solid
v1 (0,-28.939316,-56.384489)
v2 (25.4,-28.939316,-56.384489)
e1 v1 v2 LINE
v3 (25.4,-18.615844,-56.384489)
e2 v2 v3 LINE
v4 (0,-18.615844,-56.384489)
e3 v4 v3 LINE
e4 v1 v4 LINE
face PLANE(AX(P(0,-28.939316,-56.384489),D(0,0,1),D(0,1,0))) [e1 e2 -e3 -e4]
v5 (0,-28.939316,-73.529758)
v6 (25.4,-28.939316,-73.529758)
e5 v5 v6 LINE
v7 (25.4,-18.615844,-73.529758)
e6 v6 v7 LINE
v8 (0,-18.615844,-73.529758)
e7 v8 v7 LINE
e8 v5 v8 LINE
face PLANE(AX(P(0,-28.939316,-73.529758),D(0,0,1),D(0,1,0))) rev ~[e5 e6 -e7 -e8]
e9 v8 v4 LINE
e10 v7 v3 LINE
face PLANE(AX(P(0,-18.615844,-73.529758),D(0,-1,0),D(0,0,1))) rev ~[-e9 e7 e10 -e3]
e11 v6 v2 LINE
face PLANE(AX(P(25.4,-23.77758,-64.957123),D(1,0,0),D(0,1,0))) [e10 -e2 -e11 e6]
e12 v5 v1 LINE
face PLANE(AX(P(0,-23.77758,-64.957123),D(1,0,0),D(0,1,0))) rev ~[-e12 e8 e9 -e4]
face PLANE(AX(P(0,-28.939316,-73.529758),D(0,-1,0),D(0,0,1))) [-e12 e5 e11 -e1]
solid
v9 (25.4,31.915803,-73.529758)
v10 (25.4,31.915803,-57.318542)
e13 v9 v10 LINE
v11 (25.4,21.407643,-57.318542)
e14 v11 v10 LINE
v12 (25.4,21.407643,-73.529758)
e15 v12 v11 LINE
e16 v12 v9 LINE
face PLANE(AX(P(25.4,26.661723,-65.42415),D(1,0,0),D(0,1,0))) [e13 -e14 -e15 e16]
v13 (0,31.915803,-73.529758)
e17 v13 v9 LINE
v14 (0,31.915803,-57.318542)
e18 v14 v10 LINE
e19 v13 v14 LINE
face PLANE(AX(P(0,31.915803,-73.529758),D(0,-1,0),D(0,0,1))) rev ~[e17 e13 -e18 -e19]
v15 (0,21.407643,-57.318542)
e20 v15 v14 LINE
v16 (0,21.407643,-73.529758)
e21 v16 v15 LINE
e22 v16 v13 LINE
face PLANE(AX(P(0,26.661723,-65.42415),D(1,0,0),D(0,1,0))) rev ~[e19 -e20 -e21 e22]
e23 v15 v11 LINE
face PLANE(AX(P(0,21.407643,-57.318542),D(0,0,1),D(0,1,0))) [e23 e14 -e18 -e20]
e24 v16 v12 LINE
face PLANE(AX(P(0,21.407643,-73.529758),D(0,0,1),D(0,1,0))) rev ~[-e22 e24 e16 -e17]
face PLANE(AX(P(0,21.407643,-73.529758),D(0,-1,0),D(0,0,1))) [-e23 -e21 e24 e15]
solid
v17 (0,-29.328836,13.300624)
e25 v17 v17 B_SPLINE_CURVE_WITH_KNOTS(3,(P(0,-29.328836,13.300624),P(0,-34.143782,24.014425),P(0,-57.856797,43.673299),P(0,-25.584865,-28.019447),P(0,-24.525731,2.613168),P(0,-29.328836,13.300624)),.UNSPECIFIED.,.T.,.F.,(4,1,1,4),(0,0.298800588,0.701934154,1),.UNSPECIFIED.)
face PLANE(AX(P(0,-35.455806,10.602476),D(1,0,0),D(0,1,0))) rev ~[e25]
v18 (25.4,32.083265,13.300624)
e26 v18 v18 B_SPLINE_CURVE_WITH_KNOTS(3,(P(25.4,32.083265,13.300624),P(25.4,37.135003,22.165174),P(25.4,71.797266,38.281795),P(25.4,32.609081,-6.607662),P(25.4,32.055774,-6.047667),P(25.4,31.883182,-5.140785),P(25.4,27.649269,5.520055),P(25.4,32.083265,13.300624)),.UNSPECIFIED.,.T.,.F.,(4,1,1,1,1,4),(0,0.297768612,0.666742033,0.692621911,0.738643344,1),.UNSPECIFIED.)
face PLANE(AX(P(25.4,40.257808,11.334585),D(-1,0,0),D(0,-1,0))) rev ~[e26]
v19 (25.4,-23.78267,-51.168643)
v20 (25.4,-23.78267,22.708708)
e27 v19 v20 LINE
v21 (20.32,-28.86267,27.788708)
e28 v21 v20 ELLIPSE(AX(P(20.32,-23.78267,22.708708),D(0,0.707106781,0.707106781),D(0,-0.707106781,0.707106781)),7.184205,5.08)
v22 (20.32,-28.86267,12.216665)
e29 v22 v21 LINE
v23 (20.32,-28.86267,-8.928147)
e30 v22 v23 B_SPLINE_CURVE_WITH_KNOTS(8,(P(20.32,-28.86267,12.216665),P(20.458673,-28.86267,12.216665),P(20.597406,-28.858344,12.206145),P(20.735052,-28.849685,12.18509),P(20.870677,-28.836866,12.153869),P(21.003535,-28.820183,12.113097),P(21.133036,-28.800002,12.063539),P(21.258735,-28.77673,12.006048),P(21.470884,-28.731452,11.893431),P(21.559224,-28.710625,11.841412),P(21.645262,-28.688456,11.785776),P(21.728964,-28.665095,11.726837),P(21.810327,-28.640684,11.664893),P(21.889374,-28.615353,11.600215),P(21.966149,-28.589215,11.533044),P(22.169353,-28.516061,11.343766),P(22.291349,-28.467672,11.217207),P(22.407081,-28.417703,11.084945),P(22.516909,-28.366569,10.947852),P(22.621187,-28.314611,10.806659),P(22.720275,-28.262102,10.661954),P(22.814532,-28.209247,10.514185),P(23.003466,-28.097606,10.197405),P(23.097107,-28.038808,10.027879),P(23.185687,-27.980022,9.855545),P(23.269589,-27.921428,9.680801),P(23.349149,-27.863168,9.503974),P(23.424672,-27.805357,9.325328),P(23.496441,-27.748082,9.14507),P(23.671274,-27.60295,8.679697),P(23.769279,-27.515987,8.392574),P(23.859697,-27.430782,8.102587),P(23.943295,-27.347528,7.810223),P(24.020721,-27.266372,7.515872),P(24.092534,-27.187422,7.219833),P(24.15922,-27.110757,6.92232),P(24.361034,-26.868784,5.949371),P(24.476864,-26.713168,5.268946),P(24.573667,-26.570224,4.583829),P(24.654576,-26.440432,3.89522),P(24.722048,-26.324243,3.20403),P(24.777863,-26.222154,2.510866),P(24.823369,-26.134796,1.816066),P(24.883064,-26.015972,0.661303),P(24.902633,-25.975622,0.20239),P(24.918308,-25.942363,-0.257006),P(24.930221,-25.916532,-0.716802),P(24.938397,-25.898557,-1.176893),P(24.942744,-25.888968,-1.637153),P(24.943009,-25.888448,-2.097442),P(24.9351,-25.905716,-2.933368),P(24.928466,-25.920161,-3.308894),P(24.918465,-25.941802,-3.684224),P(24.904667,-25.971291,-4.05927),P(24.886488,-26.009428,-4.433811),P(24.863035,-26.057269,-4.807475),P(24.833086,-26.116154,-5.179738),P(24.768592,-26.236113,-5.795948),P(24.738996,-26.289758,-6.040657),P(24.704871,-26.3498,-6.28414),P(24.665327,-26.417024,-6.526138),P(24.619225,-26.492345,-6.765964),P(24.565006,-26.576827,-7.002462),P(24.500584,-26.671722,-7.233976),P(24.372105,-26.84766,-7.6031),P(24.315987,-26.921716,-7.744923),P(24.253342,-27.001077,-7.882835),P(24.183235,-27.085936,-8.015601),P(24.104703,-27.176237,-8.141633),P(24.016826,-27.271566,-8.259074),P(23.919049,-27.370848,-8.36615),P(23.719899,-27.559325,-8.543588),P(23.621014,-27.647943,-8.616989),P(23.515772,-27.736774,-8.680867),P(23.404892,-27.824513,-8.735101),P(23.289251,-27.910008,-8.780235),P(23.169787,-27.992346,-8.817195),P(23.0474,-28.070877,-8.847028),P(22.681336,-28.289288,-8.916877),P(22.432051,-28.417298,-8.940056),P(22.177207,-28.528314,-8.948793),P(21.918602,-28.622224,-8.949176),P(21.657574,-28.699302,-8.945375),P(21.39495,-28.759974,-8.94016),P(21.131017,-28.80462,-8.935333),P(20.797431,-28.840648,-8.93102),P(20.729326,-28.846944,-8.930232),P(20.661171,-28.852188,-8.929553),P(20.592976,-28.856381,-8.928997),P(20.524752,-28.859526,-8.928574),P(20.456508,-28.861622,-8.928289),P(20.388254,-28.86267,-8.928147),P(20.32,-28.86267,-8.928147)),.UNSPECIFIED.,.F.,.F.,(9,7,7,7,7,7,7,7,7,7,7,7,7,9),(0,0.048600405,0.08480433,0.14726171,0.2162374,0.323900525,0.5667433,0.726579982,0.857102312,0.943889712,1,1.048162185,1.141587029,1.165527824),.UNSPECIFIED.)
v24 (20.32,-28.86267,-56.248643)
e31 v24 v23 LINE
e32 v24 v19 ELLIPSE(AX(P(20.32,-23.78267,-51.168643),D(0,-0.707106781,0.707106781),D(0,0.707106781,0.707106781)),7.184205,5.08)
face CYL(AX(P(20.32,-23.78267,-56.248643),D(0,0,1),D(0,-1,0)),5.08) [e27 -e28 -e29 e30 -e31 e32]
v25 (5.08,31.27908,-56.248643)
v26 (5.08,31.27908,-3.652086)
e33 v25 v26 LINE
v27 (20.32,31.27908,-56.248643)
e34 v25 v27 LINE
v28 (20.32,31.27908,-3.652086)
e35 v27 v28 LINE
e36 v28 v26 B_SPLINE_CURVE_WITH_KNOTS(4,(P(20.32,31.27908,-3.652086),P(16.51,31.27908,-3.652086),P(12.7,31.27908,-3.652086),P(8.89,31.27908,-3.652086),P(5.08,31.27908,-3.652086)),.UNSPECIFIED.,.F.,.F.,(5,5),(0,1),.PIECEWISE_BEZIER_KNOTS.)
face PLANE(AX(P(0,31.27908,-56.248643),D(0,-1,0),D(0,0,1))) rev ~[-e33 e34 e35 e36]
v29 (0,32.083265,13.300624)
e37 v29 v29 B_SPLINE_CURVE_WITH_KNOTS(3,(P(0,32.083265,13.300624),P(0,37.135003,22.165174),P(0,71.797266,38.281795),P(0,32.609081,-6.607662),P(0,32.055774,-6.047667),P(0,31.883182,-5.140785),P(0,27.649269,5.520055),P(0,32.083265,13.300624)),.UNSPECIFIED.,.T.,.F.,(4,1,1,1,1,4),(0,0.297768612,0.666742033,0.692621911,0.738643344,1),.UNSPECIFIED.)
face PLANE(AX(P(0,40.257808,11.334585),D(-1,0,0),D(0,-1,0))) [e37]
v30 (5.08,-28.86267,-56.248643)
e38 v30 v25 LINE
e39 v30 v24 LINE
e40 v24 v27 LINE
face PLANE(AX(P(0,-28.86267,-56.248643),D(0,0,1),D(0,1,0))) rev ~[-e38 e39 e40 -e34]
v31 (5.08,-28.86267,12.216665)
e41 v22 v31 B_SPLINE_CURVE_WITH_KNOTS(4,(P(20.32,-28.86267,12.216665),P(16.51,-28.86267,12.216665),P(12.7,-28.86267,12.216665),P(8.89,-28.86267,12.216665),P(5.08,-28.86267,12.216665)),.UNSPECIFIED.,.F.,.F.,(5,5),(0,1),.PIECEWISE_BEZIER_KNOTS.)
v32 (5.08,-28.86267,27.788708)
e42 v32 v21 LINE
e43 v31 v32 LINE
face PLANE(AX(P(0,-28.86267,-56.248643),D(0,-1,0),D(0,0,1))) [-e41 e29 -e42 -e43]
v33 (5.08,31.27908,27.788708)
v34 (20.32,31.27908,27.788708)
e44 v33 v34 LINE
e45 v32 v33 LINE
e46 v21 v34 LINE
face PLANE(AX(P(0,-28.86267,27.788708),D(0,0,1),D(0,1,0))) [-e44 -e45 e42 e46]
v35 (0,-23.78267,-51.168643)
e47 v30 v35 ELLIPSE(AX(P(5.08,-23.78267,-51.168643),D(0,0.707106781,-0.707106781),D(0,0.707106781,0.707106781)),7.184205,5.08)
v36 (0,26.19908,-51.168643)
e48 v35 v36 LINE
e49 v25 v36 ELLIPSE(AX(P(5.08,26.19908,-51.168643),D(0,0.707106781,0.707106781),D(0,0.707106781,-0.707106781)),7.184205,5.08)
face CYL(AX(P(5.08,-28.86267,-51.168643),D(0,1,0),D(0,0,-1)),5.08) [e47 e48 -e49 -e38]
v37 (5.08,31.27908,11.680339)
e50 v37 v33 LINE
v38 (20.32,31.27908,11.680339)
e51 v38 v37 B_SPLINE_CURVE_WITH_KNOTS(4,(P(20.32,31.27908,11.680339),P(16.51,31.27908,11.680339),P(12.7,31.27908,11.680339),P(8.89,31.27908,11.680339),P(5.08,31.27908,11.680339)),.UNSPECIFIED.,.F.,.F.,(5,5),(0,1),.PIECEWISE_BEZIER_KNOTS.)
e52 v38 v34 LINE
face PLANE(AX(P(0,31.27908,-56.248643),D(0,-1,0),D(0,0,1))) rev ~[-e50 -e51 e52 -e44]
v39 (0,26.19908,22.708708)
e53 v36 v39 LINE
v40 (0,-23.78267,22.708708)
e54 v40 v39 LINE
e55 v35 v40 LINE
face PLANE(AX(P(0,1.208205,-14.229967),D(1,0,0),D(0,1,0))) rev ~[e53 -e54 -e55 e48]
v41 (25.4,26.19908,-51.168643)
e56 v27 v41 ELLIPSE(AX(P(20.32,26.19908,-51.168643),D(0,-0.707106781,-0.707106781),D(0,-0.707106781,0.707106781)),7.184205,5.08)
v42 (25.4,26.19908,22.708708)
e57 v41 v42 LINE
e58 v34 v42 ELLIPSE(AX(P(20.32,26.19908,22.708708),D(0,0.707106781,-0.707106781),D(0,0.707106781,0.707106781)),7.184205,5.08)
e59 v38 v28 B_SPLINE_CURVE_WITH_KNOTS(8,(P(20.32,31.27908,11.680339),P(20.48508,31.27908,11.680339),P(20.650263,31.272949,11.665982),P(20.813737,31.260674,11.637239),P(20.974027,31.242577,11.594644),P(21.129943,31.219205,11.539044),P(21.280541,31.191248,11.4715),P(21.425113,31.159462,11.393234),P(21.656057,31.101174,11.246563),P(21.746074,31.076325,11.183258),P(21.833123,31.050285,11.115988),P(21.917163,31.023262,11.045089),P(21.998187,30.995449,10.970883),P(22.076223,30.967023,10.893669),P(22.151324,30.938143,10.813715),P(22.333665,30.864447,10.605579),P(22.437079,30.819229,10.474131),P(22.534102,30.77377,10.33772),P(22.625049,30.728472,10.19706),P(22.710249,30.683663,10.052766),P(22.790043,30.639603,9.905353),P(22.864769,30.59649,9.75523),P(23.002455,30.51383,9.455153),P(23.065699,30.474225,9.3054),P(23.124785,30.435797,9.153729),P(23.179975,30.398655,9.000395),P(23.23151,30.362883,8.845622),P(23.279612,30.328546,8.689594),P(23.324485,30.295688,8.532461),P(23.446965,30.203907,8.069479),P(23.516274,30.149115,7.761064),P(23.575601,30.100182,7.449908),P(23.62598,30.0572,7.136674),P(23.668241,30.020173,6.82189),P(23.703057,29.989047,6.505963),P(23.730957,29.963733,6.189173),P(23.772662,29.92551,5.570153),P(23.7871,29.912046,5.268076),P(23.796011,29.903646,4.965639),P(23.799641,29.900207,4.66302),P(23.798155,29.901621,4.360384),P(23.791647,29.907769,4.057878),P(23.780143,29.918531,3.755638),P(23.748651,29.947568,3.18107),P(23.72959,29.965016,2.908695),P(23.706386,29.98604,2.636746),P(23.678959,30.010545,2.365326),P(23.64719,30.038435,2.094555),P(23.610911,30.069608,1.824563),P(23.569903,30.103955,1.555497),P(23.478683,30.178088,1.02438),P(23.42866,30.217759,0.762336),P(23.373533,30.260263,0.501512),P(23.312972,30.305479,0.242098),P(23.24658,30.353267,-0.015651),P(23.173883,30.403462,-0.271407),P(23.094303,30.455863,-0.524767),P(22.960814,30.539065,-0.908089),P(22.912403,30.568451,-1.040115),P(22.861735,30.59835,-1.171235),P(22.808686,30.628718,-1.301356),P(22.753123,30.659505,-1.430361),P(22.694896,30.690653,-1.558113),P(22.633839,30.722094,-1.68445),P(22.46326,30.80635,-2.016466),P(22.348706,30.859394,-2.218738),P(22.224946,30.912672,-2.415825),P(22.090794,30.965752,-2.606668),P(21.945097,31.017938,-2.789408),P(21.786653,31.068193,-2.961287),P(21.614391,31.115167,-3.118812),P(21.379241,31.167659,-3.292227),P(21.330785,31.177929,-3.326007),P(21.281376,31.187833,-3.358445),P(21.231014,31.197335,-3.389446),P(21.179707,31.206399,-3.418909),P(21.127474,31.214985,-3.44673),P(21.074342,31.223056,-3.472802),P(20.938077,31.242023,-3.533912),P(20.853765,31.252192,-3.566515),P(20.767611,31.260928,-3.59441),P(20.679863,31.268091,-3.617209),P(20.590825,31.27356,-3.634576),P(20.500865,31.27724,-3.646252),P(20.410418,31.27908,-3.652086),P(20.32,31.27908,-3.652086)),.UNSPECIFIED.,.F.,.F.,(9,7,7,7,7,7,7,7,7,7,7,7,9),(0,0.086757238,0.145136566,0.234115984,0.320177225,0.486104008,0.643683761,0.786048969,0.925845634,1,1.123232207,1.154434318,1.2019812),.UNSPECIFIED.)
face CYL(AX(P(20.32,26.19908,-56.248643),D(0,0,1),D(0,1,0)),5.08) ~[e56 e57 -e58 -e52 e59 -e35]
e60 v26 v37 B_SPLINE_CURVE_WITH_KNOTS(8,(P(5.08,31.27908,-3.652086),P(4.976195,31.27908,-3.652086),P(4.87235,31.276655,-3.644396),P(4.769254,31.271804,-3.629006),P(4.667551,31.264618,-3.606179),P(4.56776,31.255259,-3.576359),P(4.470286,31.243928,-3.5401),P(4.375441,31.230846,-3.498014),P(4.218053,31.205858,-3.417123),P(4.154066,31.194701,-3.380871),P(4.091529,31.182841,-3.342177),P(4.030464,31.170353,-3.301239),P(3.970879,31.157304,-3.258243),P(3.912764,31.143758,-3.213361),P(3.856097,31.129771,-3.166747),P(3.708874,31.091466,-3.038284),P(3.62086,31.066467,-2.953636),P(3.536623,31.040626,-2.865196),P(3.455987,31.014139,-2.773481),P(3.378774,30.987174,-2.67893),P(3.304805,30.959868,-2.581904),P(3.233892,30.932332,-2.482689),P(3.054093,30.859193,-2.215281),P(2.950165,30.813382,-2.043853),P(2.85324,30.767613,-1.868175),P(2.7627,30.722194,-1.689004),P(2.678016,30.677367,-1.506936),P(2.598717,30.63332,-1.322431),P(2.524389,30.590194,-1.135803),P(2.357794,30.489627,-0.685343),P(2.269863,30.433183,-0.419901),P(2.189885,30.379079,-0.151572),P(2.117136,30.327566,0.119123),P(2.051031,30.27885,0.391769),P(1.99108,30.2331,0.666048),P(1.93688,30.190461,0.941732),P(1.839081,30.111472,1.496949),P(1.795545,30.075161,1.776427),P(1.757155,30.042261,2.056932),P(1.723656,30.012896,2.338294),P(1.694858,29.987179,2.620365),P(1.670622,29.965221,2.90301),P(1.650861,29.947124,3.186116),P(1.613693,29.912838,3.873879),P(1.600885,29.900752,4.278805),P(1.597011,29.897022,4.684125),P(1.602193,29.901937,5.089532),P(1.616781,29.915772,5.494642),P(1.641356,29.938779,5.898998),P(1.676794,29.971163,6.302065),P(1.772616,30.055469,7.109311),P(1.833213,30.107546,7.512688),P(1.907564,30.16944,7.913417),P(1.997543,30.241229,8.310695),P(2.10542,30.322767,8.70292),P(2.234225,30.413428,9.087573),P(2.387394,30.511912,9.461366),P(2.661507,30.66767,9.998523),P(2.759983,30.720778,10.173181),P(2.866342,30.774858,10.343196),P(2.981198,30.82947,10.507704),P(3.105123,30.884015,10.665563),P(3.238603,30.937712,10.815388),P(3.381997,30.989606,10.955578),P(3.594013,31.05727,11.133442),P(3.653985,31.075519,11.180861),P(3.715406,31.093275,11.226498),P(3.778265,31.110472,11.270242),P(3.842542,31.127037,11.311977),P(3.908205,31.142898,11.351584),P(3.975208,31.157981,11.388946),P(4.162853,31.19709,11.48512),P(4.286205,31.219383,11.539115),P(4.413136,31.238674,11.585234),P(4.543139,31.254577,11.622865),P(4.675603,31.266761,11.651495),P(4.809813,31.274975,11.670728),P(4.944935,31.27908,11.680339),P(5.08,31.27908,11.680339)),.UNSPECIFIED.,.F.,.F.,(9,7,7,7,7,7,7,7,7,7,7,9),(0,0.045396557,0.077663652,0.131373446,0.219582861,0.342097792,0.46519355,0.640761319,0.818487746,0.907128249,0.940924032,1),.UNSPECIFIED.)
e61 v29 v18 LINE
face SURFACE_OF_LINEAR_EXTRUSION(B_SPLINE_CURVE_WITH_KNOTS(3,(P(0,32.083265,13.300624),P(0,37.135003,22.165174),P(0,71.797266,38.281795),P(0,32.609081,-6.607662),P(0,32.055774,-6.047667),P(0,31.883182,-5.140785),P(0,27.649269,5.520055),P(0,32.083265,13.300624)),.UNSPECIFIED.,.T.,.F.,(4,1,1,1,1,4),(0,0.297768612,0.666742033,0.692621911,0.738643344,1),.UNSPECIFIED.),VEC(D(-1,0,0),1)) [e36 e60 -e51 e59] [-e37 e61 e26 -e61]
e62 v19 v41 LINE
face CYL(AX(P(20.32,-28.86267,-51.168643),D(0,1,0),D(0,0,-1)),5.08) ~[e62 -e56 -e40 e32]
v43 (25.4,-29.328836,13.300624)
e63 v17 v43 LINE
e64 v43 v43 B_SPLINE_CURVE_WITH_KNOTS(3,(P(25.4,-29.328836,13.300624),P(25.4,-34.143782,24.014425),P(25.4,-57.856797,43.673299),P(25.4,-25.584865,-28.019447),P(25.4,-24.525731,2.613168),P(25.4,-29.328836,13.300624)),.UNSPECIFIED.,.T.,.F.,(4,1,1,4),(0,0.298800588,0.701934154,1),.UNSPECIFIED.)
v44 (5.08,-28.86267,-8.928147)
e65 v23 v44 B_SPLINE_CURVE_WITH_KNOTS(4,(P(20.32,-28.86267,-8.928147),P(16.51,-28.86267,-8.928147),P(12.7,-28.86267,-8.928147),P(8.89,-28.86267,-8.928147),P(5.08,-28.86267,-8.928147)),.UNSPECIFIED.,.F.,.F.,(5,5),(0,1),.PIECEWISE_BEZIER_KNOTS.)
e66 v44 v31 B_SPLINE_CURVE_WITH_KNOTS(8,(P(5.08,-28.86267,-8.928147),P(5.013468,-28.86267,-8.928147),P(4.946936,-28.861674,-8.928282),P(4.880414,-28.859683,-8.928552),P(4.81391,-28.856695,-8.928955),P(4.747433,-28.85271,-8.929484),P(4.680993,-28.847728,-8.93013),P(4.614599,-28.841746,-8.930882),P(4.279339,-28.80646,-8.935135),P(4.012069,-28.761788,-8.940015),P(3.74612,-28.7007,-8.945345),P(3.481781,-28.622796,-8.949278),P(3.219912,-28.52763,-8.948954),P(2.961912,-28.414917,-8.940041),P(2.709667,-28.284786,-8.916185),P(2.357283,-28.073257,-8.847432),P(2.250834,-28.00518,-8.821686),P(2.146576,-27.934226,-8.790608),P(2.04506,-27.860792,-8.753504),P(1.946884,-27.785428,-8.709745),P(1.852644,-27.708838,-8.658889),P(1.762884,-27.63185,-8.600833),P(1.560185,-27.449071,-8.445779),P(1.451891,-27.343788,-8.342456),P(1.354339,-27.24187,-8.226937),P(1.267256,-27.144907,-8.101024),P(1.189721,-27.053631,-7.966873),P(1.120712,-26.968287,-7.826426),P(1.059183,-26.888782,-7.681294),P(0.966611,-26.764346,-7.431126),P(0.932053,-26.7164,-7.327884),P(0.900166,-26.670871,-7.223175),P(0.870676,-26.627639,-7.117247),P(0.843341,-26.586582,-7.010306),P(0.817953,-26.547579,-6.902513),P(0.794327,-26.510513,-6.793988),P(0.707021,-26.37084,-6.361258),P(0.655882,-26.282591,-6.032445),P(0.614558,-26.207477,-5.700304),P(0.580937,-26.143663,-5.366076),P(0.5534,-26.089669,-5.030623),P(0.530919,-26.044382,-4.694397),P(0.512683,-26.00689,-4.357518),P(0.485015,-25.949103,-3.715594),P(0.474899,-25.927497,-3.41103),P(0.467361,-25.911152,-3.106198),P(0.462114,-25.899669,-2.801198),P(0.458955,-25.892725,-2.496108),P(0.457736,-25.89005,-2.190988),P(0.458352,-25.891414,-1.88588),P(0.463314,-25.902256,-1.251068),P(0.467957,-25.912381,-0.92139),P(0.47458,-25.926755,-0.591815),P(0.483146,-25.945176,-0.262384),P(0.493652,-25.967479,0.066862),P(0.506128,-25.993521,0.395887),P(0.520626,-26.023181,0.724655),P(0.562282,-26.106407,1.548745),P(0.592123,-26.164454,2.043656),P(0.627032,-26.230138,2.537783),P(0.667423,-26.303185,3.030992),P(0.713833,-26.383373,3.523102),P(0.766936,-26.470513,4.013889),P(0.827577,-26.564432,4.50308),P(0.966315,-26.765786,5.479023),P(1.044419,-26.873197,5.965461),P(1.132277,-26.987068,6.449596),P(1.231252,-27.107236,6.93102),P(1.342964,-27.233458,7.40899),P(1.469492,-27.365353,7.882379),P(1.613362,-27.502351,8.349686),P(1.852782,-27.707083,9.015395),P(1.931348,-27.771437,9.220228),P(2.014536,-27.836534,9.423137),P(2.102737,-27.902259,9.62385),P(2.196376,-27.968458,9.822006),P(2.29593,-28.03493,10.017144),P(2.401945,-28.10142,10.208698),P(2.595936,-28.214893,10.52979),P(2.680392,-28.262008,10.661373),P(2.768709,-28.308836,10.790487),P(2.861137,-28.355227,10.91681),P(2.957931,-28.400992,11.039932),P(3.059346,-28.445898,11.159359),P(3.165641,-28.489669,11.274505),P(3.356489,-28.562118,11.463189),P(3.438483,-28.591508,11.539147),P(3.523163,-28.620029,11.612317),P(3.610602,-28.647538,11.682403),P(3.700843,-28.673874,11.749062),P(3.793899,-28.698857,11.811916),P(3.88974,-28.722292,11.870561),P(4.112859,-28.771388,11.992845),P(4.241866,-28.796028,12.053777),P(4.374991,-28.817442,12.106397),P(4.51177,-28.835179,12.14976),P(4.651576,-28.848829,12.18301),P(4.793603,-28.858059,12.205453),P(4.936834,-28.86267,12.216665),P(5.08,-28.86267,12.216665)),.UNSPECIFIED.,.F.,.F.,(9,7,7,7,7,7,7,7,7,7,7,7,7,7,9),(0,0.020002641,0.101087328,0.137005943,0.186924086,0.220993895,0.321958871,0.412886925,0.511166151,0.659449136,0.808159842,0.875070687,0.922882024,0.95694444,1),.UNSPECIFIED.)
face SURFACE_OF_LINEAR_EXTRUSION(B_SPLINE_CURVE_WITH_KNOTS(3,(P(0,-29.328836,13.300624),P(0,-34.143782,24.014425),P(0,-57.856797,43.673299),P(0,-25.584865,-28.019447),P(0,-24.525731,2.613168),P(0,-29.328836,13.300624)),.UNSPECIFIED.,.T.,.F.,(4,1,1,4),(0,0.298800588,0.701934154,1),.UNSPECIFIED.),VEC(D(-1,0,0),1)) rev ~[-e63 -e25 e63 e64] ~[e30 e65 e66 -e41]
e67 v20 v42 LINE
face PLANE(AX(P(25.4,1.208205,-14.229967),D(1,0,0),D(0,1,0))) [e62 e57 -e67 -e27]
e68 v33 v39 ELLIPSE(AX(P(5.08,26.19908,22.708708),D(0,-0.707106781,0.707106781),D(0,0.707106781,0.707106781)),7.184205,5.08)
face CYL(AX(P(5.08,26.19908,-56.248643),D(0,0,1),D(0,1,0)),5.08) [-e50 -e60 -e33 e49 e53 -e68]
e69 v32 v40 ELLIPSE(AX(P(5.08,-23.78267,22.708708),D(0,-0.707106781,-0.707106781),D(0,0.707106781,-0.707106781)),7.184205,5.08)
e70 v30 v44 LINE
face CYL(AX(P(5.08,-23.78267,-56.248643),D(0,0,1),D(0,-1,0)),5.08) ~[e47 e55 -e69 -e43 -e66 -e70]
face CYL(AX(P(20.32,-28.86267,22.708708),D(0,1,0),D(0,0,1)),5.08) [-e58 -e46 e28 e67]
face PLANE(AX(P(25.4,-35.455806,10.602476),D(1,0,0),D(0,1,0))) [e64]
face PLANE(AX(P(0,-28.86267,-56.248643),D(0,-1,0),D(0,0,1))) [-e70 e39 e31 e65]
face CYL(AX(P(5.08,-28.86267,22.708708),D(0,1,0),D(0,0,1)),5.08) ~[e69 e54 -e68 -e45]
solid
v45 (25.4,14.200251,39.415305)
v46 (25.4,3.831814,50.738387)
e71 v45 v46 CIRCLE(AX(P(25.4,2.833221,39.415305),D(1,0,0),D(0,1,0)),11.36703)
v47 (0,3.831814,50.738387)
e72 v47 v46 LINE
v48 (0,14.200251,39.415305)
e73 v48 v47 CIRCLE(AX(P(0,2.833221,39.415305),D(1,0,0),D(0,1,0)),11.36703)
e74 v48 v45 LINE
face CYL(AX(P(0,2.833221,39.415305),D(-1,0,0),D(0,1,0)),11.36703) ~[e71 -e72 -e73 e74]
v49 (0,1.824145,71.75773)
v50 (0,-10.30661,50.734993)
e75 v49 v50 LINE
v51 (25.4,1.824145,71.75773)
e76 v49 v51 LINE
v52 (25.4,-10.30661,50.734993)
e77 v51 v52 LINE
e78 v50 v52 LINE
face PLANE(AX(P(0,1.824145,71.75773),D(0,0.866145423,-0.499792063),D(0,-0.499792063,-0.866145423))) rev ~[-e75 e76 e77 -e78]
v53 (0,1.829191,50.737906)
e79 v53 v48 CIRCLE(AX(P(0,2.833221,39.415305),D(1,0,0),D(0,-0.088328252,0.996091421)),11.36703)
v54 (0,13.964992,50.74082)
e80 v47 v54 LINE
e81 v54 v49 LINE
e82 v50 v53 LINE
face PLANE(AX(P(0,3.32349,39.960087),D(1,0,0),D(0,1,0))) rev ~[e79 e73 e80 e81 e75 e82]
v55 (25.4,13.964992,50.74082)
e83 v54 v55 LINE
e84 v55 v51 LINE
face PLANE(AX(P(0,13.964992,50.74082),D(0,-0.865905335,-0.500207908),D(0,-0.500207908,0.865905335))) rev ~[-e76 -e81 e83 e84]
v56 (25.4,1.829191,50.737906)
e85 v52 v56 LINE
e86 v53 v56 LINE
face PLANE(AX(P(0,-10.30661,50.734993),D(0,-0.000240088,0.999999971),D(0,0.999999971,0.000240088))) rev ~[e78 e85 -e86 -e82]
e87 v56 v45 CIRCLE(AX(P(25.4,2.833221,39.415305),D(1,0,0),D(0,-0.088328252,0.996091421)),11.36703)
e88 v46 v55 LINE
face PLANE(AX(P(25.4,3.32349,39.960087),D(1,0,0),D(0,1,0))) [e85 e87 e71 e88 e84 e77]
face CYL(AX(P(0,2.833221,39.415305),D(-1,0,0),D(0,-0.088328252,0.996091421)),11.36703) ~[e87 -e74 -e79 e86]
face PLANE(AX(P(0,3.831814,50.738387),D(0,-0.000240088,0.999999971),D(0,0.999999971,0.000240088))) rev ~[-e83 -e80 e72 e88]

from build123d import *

# Parameters (mm, degrees)
F0_W     = 60.14174968
F0_H     = 84.0373504907
F1_DEPTH = 25.4
F2_R     = 5.08
F4_DEPTH = 25.4
F3_W     = 10.323472321
F3_H     = 17.1452686191
F3_W_2   = 10.5081591755
F3_H_2   = 16.2112154067


with BuildPart() as f1:
    # F0 (on Right) → F1 (new body)
    with BuildSketch(Plane.YZ):
        with Locations((1.208204776, -14.2299672589)):
            Rectangle(F0_W, F0_H)
    extrude(amount=F1_DEPTH)

    # F2
    f2_edges = [f1.edges().sort_by_distance(p)[0] for p in [
        (25.4, -28.86267, -14.229967),
        (25.4, 31.27908, -14.229967),
        (25.4, 1.208205, 27.788708),
        (25.4, 1.208205, -56.248643),
        (0, 1.208205, 27.788708),
        (0, 1.208205, -56.248643),
        (0, -28.86267, -14.229967),
        (0, 31.27908, -14.229967),
    ]]
    fillet(f2_edges, radius=F2_R)

    # F3 (on Right) → F4, piece 2 (join)
    with BuildSketch(Plane.YZ):
        with BuildLine():
            add(Edge.make_bspline(
                [(32.0832654834, 13.3006237447), (37.1350025845, 22.1651735744), (71.7972655913, 38.2817954591), (32.6090807303, -6.6076622341), (32.0557738888, -6.0476674376), (31.8831818454, -5.1407847372), (27.6492685405, 5.5200551882), (32.0832654834, 13.3006237447)],
                knots=[0, 0, 0, 0, 0.2977686116, 0.6667420328, 0.6926219109, 0.7386433444, 1, 1, 1, 1], degree=3))
        make_face()
        with BuildLine():
            add(Edge.make_bspline(
                [(-29.3288361281, 13.3006237447), (-34.1437815008, 24.0144247731), (-57.8567970473, 43.6732991453), (-25.5848649951, -28.0194473703), (-24.5257305741, 2.6131676594), (-29.3288361281, 13.3006237447)],
                knots=[0, 0, 0, 0, 0.2988005884, 0.7019341541, 1, 1, 1, 1], degree=3))
        make_face()
    extrude(amount=F4_DEPTH)


with BuildPart() as f4:
    # F3 (on Right) → F4 (new body)
    with BuildSketch(Plane.YZ):
        with BuildLine():
            ThreePointArc((1.8291913439, 50.7379062474), (-4.8412992389, 31.0301338793), (14.2002509804, 39.4153054084))
            ThreePointArc((14.2002509804, 39.4153054084), (11.2165499413, 47.0918388166), (3.8318141288, 50.7383870528))
            Line((3.8318141288, 50.7383870528), (1.8291913439, 50.7379062474))
        make_face()
        with BuildLine():
            Line((1.8291913439, 50.7379062474), (3.8318141288, 50.7383870528))
            ThreePointArc((3.8318141288, 50.7383870528), (2.8304921273, 50.7823348484), (1.8291913439, 50.7379062474))
        make_face()
        with BuildLine():
            ThreePointArc((1.8291913439, 50.7379062474), (2.8304921273, 50.7823348484), (3.8318141288, 50.7383870528))
            Line((3.8318141288, 50.7383870528), (13.9649923015, 50.7408199057))
            Line((13.9649923015, 50.7408199057), (1.8241447397, 71.7577300966))
            Line((1.8241447397, 71.7577300966), (-10.3066096138, 50.7349925891))
            Line((-10.3066096138, 50.7349925891), (1.8291913439, 50.7379062474))
        make_face()
    extrude(amount=F4_DEPTH)


with BuildPart() as f4b:
    # F3 (on Right) → F4, piece 3 (new body)
    with BuildSketch(Plane.YZ):
        with Locations((-23.7775798887, -64.9571232498)):
            Rectangle(F3_W, F3_H)
    extrude(amount=F4_DEPTH)


with BuildPart() as f4c:
    # F3 (on Right) → F4, piece 4 (new body)
    with BuildSketch(Plane.YZ):
        with Locations((26.6617229208, -65.424149856)):
            Rectangle(F3_W_2, F3_H_2)
    extrude(amount=F4_DEPTH)


solid = Compound([f1.part, f4.part, f4b.part, f4c.part])
